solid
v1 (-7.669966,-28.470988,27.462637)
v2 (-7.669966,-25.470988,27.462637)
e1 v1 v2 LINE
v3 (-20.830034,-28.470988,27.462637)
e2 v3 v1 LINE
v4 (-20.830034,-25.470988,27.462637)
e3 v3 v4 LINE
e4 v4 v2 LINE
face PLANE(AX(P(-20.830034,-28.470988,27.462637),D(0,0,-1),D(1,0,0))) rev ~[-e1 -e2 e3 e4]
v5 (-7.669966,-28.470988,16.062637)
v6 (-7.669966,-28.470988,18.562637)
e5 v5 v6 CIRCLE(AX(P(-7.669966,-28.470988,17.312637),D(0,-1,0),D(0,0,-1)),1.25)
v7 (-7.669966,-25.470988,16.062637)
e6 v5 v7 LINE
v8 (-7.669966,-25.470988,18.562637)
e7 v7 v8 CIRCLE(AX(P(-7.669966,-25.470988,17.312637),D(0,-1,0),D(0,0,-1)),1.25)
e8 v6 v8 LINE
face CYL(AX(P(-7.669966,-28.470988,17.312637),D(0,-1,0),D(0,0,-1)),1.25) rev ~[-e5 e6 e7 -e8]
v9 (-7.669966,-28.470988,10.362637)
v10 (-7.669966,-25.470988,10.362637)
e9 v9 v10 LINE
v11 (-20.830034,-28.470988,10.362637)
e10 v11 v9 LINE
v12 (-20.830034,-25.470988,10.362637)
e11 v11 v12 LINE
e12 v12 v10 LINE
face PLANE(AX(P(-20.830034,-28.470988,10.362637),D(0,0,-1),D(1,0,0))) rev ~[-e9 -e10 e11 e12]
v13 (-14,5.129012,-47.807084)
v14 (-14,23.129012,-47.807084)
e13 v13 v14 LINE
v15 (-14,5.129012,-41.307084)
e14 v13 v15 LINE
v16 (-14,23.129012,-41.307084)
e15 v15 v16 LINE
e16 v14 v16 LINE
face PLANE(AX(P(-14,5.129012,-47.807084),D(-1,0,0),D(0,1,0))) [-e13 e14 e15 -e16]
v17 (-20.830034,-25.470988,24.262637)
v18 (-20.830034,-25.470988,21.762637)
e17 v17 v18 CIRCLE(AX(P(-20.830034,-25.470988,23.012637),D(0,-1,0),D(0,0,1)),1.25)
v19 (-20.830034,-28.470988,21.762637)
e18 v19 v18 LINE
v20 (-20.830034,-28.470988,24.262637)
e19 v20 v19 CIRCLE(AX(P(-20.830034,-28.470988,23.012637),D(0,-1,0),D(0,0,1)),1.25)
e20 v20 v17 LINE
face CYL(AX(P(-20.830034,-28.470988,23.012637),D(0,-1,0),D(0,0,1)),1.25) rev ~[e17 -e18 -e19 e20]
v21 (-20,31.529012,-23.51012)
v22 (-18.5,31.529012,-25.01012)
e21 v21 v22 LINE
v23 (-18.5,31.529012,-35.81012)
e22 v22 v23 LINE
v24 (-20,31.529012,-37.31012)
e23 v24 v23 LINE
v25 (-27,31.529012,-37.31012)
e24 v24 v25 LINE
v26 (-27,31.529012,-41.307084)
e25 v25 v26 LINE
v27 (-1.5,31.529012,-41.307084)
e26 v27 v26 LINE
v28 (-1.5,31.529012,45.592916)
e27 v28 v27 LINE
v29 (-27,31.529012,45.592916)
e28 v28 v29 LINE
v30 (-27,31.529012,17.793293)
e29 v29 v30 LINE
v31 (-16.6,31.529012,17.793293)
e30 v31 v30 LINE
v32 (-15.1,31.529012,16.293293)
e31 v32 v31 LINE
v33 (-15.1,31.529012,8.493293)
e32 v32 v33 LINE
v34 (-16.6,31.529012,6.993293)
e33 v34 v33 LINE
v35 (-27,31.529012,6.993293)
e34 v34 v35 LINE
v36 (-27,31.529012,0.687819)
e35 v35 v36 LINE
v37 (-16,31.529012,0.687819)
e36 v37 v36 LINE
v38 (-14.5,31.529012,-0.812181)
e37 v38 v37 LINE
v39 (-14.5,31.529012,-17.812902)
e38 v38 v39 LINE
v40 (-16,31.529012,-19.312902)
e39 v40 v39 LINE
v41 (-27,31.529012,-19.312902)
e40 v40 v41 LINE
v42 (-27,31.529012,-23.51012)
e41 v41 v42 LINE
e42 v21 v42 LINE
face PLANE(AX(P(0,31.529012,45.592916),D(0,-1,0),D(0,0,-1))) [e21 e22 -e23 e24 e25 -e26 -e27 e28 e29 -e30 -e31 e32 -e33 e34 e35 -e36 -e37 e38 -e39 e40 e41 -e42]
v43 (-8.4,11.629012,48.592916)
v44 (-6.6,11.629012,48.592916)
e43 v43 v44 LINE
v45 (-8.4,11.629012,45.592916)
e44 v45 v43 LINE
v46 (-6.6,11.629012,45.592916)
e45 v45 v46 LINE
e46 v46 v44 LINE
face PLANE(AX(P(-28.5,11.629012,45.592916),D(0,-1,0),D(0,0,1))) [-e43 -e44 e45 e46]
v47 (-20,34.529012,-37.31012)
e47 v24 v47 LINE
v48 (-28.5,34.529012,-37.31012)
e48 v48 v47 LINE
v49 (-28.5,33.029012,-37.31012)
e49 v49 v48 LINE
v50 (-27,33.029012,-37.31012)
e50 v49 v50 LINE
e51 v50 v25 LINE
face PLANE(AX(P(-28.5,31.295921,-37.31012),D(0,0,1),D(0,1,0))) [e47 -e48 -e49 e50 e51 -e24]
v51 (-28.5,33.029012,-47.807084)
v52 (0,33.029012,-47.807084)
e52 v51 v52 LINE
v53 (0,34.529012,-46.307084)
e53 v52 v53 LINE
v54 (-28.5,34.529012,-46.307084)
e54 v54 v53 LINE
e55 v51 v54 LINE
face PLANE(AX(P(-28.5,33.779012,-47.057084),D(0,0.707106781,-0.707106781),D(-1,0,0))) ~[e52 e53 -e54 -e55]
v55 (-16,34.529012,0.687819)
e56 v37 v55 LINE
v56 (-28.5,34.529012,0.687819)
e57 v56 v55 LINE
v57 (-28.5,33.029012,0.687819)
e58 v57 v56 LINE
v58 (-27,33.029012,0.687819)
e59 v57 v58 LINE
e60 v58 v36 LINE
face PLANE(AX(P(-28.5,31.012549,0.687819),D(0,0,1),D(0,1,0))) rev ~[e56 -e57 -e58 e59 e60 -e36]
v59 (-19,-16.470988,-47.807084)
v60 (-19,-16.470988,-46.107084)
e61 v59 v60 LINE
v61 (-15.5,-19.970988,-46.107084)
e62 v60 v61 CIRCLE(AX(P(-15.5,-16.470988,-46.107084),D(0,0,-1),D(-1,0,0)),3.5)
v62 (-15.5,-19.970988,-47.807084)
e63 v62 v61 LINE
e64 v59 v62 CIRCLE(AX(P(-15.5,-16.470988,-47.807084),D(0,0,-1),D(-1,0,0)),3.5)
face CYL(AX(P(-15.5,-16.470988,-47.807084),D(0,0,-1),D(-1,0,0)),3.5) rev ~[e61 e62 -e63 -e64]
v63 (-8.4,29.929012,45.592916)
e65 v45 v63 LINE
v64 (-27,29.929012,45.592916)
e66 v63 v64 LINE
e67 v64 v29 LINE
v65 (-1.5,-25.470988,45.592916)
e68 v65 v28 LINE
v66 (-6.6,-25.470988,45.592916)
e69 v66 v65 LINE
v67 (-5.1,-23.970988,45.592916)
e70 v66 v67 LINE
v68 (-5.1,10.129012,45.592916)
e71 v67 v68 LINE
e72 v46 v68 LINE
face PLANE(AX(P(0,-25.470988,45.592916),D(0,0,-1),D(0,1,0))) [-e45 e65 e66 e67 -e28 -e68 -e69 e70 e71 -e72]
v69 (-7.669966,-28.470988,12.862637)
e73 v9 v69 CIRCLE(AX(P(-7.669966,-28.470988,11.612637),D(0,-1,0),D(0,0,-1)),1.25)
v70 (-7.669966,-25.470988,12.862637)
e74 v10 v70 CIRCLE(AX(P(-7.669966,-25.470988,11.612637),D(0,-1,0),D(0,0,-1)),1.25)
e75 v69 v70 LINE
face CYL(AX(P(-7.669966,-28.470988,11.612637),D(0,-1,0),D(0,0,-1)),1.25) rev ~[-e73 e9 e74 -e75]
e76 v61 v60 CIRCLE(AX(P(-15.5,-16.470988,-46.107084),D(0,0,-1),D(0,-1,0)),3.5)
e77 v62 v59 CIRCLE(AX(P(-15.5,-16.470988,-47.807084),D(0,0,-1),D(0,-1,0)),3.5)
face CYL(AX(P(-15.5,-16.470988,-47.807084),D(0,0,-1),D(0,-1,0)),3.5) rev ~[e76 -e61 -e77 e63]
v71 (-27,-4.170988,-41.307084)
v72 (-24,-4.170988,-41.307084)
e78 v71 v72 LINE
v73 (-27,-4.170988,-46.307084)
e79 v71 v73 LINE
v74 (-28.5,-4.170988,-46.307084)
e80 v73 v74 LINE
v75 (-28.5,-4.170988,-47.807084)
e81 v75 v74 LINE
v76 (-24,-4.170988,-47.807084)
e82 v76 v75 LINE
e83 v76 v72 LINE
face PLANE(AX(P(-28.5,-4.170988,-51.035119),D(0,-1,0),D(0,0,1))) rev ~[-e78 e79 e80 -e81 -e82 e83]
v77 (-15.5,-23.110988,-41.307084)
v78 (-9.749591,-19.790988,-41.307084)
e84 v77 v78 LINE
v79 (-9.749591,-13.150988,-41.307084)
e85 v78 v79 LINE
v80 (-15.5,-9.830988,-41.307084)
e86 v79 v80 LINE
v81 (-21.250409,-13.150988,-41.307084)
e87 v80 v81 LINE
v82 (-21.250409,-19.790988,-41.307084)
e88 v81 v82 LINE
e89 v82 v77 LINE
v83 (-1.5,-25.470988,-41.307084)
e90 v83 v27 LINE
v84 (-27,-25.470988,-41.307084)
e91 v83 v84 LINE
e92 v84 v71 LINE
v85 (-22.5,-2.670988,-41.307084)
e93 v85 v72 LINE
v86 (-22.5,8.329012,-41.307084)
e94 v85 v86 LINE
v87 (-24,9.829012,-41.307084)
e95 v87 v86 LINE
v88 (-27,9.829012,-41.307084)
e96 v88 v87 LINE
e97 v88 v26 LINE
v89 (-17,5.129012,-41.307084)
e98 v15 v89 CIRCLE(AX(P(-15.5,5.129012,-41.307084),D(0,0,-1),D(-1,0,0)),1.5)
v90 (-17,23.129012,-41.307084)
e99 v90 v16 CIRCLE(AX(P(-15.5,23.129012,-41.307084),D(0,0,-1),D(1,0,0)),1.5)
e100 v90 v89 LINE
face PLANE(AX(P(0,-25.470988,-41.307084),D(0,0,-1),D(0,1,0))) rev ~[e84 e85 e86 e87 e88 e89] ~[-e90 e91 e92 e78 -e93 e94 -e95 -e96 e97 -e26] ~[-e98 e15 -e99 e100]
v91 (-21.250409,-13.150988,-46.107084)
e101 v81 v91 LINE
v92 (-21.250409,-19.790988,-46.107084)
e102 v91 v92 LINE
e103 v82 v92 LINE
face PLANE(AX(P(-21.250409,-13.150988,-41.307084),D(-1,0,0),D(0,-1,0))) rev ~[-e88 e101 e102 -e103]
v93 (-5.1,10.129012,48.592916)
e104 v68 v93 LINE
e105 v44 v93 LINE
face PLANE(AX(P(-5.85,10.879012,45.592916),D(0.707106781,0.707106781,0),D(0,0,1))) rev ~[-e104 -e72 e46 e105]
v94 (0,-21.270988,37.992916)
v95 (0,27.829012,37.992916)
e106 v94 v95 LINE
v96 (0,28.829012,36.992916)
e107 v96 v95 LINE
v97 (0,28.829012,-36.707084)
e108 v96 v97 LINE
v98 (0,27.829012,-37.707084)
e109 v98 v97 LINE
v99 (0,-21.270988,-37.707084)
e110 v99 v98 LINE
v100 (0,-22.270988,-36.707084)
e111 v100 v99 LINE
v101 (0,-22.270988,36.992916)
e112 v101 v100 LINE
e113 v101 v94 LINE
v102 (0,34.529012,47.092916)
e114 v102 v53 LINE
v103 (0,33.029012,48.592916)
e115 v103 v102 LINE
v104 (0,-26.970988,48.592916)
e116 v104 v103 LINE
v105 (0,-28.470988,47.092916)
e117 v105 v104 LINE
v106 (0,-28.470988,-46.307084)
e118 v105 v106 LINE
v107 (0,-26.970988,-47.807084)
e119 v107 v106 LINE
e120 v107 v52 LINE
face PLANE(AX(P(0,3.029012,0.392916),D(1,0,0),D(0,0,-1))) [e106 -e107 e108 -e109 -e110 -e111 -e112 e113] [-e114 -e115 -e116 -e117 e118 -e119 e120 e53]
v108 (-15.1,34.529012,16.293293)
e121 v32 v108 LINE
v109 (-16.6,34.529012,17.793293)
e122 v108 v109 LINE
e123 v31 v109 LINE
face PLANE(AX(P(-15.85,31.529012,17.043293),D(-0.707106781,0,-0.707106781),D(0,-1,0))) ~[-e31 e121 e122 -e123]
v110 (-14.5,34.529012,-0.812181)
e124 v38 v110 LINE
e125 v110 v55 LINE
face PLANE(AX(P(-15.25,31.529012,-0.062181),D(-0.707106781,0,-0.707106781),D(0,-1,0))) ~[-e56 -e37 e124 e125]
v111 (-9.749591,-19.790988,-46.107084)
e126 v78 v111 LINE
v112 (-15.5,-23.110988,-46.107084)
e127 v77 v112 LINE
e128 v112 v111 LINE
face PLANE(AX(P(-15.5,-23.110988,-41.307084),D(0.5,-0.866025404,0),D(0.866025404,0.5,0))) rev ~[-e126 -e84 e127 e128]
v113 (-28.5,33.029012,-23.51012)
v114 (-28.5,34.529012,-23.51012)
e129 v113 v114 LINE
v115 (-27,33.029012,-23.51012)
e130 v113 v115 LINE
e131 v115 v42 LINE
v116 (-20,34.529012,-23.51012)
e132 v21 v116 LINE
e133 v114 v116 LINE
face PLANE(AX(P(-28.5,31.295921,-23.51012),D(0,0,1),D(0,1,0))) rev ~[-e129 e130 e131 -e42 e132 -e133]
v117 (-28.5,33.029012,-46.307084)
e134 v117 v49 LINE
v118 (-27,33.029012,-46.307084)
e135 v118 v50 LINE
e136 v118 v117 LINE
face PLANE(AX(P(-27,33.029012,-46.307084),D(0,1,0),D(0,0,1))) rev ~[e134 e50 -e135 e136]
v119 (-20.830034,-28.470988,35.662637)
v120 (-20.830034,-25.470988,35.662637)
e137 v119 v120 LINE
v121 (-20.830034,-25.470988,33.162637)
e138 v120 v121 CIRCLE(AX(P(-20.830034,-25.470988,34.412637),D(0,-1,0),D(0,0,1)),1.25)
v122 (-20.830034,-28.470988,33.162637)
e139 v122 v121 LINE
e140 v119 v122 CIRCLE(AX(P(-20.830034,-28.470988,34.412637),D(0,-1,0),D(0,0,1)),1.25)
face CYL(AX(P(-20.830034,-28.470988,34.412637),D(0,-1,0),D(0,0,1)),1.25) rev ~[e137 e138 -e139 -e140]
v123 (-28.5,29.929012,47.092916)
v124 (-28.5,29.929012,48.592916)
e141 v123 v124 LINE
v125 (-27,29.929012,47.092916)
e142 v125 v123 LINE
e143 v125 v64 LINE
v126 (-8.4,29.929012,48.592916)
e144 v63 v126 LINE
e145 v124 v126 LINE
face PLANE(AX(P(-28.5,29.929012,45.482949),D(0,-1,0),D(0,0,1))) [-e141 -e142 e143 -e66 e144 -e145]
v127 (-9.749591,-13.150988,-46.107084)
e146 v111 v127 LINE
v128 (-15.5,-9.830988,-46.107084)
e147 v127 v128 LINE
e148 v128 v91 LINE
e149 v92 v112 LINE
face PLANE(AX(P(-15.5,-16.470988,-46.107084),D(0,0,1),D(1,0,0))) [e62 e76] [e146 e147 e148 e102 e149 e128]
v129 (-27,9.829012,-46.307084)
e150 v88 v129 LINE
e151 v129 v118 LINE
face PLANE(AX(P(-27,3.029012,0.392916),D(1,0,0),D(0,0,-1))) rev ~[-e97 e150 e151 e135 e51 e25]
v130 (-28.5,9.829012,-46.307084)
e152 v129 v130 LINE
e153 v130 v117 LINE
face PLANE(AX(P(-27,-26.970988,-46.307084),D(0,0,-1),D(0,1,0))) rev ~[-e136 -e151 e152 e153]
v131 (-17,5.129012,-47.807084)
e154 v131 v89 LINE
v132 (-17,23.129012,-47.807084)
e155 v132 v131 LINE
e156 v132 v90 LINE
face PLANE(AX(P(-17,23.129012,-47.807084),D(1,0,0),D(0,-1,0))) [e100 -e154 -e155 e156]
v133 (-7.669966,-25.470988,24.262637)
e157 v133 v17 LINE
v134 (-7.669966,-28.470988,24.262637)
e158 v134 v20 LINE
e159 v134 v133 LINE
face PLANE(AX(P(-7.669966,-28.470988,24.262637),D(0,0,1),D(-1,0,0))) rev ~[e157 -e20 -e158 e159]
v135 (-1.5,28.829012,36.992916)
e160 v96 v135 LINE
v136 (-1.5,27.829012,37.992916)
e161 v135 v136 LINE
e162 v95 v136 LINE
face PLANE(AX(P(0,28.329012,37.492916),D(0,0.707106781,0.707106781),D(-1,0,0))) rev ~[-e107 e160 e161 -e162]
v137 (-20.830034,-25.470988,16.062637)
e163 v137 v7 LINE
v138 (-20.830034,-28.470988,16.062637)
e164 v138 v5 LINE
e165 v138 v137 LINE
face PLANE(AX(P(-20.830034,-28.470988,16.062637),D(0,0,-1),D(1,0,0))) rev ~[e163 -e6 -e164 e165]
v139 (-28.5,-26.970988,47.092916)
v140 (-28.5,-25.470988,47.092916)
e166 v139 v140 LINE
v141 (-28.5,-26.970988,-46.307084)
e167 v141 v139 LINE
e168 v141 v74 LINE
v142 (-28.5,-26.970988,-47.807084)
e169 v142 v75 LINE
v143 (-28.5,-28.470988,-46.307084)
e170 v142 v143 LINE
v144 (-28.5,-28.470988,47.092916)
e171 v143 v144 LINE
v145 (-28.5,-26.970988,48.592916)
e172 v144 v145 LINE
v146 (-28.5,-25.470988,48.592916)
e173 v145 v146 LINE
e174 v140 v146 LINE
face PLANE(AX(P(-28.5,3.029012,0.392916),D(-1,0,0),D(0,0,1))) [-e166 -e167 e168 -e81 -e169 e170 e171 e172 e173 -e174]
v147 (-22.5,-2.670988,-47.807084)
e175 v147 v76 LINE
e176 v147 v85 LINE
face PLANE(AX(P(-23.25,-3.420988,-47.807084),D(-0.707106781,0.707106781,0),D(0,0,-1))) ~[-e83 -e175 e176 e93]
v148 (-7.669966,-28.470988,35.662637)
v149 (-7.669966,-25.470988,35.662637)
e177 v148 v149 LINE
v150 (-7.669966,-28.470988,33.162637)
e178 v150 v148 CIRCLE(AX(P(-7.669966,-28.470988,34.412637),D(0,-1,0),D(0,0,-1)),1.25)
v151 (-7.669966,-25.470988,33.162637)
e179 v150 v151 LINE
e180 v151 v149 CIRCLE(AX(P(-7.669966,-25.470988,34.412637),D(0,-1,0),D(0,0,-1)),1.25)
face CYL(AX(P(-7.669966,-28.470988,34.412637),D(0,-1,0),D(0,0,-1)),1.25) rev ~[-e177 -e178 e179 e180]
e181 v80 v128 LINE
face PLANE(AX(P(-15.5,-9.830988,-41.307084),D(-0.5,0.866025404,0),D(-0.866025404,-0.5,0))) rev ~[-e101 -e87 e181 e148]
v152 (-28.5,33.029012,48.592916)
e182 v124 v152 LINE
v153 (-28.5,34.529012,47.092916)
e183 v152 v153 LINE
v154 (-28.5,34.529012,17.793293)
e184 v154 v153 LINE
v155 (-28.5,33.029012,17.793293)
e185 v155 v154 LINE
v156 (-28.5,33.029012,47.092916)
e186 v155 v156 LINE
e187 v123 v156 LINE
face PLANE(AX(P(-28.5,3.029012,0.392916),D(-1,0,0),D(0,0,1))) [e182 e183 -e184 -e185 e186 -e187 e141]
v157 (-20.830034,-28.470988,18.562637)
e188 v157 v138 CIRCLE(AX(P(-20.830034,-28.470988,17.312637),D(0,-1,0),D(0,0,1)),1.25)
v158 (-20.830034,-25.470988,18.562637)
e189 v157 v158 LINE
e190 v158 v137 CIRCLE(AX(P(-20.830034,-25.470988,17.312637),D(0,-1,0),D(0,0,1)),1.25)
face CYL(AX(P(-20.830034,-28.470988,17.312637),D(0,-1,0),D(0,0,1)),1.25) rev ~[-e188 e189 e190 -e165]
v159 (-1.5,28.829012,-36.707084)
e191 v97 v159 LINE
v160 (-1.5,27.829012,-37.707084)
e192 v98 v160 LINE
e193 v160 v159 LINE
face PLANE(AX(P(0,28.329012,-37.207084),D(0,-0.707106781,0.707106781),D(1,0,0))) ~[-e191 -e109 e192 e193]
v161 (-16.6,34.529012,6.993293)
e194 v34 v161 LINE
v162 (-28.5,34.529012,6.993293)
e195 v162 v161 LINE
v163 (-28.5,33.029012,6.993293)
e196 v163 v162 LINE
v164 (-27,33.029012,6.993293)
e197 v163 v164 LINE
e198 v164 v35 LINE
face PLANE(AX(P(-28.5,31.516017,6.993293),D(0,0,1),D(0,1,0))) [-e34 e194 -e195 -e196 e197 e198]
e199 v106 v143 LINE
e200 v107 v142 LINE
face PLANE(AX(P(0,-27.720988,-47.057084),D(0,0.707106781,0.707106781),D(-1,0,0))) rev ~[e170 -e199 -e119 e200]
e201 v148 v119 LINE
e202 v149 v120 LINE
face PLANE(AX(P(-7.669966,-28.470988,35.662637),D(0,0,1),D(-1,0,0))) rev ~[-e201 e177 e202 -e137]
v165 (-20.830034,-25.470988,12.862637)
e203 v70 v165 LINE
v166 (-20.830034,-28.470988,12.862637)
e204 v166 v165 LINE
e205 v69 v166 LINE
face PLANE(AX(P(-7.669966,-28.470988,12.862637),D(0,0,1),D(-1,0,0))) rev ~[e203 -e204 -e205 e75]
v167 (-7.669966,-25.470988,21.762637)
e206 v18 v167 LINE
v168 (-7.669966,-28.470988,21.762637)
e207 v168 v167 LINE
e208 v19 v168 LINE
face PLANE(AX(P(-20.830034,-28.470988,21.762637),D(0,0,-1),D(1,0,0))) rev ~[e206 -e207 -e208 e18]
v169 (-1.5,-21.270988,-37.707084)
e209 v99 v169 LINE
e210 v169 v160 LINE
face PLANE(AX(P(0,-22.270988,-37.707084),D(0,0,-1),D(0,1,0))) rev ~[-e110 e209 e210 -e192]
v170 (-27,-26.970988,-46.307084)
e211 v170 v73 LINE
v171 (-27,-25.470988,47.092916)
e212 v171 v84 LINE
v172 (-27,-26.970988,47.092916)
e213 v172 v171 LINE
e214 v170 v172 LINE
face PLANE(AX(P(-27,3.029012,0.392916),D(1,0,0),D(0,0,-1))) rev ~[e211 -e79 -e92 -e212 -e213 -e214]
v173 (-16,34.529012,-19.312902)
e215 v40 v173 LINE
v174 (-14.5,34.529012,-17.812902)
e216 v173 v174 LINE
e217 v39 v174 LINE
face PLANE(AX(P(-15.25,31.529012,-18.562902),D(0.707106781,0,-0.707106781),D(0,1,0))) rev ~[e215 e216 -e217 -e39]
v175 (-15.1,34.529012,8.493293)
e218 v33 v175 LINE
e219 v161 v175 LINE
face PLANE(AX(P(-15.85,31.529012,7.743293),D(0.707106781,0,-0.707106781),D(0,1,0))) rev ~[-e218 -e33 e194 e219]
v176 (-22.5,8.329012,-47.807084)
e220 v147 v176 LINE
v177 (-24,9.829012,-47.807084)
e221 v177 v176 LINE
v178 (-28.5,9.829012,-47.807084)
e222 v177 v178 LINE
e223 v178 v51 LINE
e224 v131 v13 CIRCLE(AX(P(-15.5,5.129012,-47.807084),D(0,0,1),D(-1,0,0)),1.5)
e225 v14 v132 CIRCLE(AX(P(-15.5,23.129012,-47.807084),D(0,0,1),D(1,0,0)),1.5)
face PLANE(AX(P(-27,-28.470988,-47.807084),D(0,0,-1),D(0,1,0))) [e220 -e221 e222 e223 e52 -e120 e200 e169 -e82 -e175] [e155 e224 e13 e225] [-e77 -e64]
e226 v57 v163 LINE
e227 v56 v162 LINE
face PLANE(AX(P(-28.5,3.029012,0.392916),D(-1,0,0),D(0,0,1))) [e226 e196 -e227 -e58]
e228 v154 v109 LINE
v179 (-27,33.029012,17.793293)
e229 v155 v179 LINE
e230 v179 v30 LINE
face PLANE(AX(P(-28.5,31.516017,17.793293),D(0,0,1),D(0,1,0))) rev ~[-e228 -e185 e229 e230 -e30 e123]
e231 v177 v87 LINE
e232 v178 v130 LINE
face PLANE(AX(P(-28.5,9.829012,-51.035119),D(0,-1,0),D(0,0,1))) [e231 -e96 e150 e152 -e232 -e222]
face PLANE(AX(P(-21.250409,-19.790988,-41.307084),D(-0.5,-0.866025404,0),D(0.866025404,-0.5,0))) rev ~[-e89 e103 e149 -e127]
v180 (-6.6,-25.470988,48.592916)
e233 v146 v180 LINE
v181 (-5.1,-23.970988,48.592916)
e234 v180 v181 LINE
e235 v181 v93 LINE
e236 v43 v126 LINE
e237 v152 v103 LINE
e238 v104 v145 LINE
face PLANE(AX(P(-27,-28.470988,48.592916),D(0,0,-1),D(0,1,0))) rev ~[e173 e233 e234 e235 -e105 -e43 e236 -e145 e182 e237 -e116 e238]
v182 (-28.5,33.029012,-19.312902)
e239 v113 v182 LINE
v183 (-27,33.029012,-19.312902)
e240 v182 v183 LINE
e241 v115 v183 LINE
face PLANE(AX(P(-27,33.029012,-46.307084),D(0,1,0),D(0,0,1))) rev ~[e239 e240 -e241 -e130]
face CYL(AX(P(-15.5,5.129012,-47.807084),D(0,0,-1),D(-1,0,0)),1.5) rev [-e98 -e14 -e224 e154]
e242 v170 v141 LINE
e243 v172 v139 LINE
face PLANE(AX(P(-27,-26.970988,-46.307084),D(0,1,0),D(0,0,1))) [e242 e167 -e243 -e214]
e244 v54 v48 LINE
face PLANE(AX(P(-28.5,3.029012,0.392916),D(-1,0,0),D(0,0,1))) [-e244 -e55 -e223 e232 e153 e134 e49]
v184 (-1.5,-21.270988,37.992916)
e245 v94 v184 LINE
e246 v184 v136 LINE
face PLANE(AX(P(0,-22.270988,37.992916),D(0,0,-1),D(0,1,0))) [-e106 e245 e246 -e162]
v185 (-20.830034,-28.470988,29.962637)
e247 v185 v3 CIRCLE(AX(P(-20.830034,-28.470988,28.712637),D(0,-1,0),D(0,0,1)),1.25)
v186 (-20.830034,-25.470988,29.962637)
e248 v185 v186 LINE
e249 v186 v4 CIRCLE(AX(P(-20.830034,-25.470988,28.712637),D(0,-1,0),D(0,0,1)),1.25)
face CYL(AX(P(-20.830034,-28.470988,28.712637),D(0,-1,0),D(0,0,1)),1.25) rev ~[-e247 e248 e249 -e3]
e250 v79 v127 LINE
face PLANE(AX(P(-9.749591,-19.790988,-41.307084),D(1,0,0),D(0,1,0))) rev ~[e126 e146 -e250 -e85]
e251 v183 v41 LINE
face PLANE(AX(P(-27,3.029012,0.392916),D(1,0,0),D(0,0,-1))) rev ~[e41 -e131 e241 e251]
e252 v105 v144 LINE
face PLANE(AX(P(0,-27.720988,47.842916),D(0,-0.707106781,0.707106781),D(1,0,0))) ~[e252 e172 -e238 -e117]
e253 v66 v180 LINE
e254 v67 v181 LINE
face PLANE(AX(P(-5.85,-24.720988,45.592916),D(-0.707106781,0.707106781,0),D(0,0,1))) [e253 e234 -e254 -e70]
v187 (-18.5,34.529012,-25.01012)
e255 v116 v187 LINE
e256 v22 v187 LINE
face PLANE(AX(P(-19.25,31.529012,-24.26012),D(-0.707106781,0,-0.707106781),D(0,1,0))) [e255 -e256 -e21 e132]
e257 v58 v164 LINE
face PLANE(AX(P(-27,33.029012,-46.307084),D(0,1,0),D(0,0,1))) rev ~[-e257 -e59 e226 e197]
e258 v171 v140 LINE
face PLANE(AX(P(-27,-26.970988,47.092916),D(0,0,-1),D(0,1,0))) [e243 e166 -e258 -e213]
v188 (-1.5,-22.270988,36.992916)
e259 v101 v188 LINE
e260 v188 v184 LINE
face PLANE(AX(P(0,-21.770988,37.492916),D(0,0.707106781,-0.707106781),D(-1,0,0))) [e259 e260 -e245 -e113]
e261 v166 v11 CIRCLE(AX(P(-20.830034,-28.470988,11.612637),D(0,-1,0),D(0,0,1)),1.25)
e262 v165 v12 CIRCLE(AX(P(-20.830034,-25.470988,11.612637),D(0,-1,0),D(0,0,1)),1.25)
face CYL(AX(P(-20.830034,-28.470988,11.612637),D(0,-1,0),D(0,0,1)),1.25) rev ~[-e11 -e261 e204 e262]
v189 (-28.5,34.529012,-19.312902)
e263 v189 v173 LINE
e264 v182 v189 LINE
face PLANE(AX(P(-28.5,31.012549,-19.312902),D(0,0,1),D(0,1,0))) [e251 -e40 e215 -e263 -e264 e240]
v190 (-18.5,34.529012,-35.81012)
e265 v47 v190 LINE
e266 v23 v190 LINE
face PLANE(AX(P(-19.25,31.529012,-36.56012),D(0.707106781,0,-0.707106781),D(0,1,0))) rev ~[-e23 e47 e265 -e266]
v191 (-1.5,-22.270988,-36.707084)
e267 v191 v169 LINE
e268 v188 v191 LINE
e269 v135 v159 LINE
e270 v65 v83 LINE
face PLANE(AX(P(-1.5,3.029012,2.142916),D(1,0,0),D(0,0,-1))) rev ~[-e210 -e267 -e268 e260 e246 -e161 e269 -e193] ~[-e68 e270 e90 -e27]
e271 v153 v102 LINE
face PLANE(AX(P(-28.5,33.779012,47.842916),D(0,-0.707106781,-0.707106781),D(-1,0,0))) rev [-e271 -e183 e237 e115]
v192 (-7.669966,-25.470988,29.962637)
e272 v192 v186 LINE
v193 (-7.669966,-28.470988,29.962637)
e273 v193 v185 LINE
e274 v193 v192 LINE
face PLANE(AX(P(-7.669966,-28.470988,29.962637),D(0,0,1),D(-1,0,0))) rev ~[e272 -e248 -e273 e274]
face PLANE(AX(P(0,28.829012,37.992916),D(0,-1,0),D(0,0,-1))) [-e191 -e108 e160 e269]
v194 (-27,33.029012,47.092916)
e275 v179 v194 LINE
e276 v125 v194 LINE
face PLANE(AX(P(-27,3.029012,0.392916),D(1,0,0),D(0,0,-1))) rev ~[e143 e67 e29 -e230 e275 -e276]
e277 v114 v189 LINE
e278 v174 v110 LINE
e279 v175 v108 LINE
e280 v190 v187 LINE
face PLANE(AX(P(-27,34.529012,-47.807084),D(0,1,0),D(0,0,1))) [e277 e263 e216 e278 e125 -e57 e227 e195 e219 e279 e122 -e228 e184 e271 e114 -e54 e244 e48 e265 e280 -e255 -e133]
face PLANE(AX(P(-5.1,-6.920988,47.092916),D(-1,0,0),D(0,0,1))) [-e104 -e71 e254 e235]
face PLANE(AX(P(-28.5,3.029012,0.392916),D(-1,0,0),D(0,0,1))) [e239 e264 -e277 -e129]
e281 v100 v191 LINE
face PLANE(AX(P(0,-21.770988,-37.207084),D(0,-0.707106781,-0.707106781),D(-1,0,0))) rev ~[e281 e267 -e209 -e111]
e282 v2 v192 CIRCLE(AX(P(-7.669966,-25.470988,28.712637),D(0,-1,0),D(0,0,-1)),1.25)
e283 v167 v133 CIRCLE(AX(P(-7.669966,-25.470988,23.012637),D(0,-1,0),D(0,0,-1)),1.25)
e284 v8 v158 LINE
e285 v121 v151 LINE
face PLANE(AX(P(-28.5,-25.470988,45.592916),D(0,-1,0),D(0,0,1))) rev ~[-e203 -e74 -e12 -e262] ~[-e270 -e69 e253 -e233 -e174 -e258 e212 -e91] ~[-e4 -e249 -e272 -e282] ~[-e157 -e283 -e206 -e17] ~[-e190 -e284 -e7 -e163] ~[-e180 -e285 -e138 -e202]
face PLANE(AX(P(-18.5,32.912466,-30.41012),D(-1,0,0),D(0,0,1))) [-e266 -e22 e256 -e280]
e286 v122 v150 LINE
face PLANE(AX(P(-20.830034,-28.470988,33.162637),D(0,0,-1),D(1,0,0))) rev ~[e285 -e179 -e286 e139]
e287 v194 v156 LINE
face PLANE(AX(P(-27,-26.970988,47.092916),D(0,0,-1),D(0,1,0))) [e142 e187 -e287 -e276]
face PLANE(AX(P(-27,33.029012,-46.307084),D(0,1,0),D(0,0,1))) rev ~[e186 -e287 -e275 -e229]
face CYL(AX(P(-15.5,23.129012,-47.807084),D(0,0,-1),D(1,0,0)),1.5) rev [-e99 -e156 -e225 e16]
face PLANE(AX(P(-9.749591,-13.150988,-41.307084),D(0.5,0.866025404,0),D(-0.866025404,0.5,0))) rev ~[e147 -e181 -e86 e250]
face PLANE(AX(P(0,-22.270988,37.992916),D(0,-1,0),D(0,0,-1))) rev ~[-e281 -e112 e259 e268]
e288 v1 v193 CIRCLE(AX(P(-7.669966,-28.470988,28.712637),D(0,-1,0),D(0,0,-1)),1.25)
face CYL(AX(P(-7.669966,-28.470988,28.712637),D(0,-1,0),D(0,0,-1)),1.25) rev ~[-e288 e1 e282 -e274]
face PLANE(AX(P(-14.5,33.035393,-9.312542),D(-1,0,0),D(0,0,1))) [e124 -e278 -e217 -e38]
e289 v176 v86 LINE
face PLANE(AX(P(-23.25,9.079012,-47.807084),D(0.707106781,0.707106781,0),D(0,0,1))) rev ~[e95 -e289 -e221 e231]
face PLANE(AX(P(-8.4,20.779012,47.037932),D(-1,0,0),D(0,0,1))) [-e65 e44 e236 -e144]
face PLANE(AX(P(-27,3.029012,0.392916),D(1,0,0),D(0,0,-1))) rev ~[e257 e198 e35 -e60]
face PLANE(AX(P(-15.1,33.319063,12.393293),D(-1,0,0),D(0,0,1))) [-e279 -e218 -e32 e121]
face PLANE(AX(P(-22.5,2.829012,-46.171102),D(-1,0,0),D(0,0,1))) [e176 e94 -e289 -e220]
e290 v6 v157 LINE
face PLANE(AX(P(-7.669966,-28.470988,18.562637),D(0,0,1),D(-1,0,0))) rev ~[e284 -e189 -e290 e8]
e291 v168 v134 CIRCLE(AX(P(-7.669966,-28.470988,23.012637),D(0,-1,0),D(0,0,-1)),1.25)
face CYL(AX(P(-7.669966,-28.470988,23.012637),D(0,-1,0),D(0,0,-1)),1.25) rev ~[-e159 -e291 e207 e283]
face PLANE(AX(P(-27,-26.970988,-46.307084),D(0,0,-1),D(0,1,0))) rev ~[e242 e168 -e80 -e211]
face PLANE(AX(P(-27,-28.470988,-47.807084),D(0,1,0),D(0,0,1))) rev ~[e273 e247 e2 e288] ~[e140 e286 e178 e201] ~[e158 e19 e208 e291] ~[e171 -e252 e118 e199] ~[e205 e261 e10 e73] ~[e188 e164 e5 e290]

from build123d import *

# Parameters (mm, degrees)
SKETCH2_W           = 86.9
SKETCH2_H           = 57
SKETCH2_W_2         = 75.7
SKETCH2_H_2         = 51.1
BOSS_EXTRUDE2_DEPTH = 1.5
SKETCH2_3_W         = 96.4
SKETCH2_3_H         = 63
SKETCH2_3_W_2       = 86.9
SKETCH2_3_H_2       = 57
BOSS_EXTRUDE3_DEPTH = 27
CHAMFER1_SIZE       = 1
SKETCH3_W           = 96.4
SKETCH3_H           = 63
SKETCH3_W_2         = 93.4
SKETCH3_H_2         = 60
BOSS_EXTRUDE4_DEPTH = 1.5
CHAMFER2_SIZE       = 1.5
SKETCH6_W           = 9.728035046
SKETCH6_H           = 14
CUT_EXTRUDE1_DEPTH  = 6
SKETCH10_W          = 3
SKETCH10_H          = 37.1
CUT_EXTRUDE2_DEPTH  = 23.4
SKETCH11_W          = 3.109966679
SKETCH11_H          = 18.3
CUT_EXTRUDE6_DEPTH  = 20.1
SKETCH12_W          = 13.8
SKETCH12_H          = 3.233091644
CUT_EXTRUDE7_DEPTH  = 10
SKETCH13_W          = 20.000720153
SKETCH13_H          = 4.04568645
CUT_EXTRUDE8_DEPTH  = 14
SKETCH15_W          = 10.8
SKETCH15_H          = 3.606090768
CUT_EXTRUDE9_DEPTH  = 13.4
CHAMFER3_SIZE       = 1.5
CHAMFER4_SIZE       = 1.5
CHAMFER5_SIZE       = 1.5
CHAMFER6_SIZE       = 1.5
CHAMFER7_SIZE       = 1.5
CUT_EXTRUDE11_DEPTH = 4
CUT_EXTRUDE12_DEPTH = 8
CUT_EXTRUDE13_DEPTH = 10
CUT_EXTRUDE14_DEPTH = 4.8


with BuildPart() as part:
    # Sketch2 → Boss-Extrude2 (new body)
    with BuildSketch(Plane(origin=(0, 0, 0), x_dir=(0, 0, -1), z_dir=(1, 0, 0))):
        with Locations((-2.142915598, 3.029012225)):
            Rectangle(SKETCH2_W, SKETCH2_H)
        with Locations((-0.142915598, 3.279012225)):
            Rectangle(SKETCH2_W_2, SKETCH2_H_2, mode=Mode.SUBTRACT)
    extrude(amount=-BOSS_EXTRUDE2_DEPTH)

    # Sketch2<3> → Boss-Extrude3 (add)
    with BuildSketch(Plane(origin=(0, 0, 0), x_dir=(0, 0, -1), z_dir=(1, 0, 0))):
        with Locations((-0.392915598, 3.029012225)):
            Rectangle(SKETCH2_3_W, SKETCH2_3_H)
        with Locations((-2.142915598, 3.029012225)):
            Rectangle(SKETCH2_3_W_2, SKETCH2_3_H_2, mode=Mode.SUBTRACT)
    extrude(amount=-BOSS_EXTRUDE3_DEPTH)

    # Chamfer1
    chamfer1_edges = [part.edges().sort_by_distance(p)[0] for p in [
        (-0.75, -22.270987775, -37.707084402),
        (-0.75, -22.270987775, 37.992915598),
        (-0.75, 28.829012225, 37.992915598),
        (-0.75, 28.829012225, -37.707084402),
    ]]
    chamfer(chamfer1_edges, length=CHAMFER1_SIZE)

    # Sketch3 → Boss-Extrude4 (add)
    with BuildSketch(Plane.ZY.offset(27)):
        with Locations((0.392915598, 3.029012225)):
            Rectangle(SKETCH3_W, SKETCH3_H)
        with Locations((0.392915598, 3.029012225)):
            Rectangle(SKETCH3_W_2, SKETCH3_H_2, mode=Mode.SUBTRACT)
    extrude(amount=BOSS_EXTRUDE4_DEPTH)

    # Chamfer2
    chamfer2_edges = [part.edges().sort_by_distance(p)[0] for p in [
        (-14.25, -28.470987775, 48.592915598),
        (-14.25, 34.529012225, 48.592915598),
        (-14.25, -28.470987775, -47.807084402),
        (-14.25, 34.529012225, -47.807084402),
    ]]
    chamfer(chamfer2_edges, length=CHAMFER2_SIZE)

    # Sketch6 → Cut-Extrude1 (cut)
    with BuildSketch(Plane.ZY.offset(28.5)):
        with Locations((-46.171101925, 2.829012225)):
            Rectangle(SKETCH6_W, SKETCH6_H)
    extrude(amount=-CUT_EXTRUDE1_DEPTH, mode=Mode.SUBTRACT)

    # Sketch10 → Cut-Extrude2 (cut)
    with BuildSketch(Plane.ZY.offset(28.5)):
        with Locations((47.092915598, -6.920987775)):
            Rectangle(SKETCH10_W, SKETCH10_H)
    extrude(amount=-CUT_EXTRUDE2_DEPTH, mode=Mode.SUBTRACT)

    # Sketch11 → Cut-Extrude6 (cut)
    with BuildSketch(Plane.ZY.offset(28.5)):
        with Locations((47.037932259, 20.779012225)):
            Rectangle(SKETCH11_W, SKETCH11_H)
    extrude(amount=-CUT_EXTRUDE6_DEPTH, mode=Mode.SUBTRACT)

    # Sketch12 → Cut-Extrude7 (cut)
    with BuildSketch(Plane.ZY.offset(28.5)):
        with Locations((-30.410119612, 32.912466403)):
            Rectangle(SKETCH12_W, SKETCH12_H)
    extrude(amount=-CUT_EXTRUDE7_DEPTH, mode=Mode.SUBTRACT)

    # Sketch13 → Cut-Extrude8 (cut)
    with BuildSketch(Plane.ZY.offset(28.5)):
        with Locations((-9.312541512, 33.035392559)):
            Rectangle(SKETCH13_W, SKETCH13_H)
    extrude(amount=-CUT_EXTRUDE8_DEPTH, mode=Mode.SUBTRACT)

    # Sketch15 → Cut-Extrude9 (cut)
    with BuildSketch(Plane.ZY.offset(28.5)):
        with Locations((12.393292701, 33.319062827)):
            Rectangle(SKETCH15_W, SKETCH15_H)
    extrude(amount=-CUT_EXTRUDE9_DEPTH, mode=Mode.SUBTRACT)

    # Chamfer3
    chamfer3_edges = [part.edges().sort_by_distance(p)[0] for p in [
        (-18.5, 33.029012225, -37.310119612),
        (-18.5, 33.029012225, -23.510119612),
    ]]
    chamfer(chamfer3_edges, length=CHAMFER3_SIZE)

    # Chamfer4
    chamfer4_edges = [part.edges().sort_by_distance(p)[0] for p in [
        (-14.5, 33.029012225, -19.312901588),
        (-14.5, 33.029012225, 0.687818565),
    ]]
    chamfer(chamfer4_edges, length=CHAMFER4_SIZE)

    # Chamfer5
    chamfer5_edges = [part.edges().sort_by_distance(p)[0] for p in [
        (-15.1, 33.029012225, 6.993292701),
        (-15.1, 33.029012225, 17.793292701),
    ]]
    chamfer(chamfer5_edges, length=CHAMFER5_SIZE)

    # Chamfer6
    chamfer6_edges = [part.edges().sort_by_distance(p)[0] for p in [
        (-22.5, 9.829012225, -44.557084402),
        (-22.5, -4.170987775, -44.557084402),
    ]]
    chamfer(chamfer6_edges, length=CHAMFER6_SIZE)

    # Chamfer7
    chamfer7_edges = [part.edges().sort_by_distance(p)[0] for p in [
        (-5.1, -25.470987775, 47.092915598),
        (-5.1, 11.629012225, 47.092915598),
    ]]
    chamfer(chamfer7_edges, length=CHAMFER7_SIZE)

    # Sketch17 → Cut-Extrude11 (cut)
    with BuildSketch(Plane.XZ.offset(28.470987775)):
        with BuildLine():
            Line((-7.669966397, 35.662637039), (-20.830033603, 35.662637039))
            ThreePointArc((-20.830033603, 35.662637039), (-22.080033603, 34.412637039), (-20.830033603, 33.162637039))
            Line((-20.830033603, 33.162637039), (-7.669966397, 33.162637039))
            ThreePointArc((-7.669966397, 33.162637039), (-6.419966397, 34.412637039), (-7.669966397, 35.662637039))
        make_face()
        with BuildLine():
            Line((-7.669966397, 29.962637039), (-20.830033603, 29.962637039))
            ThreePointArc((-20.830033603, 29.962637039), (-22.080033603, 28.712637039), (-20.830033603, 27.462637039))
            Line((-20.830033603, 27.462637039), (-7.669966397, 27.462637039))
            ThreePointArc((-7.669966397, 27.462637039), (-6.419966397, 28.712637039), (-7.669966397, 29.962637039))
        make_face()
        with BuildLine():
            Line((-7.669966397, 24.262637039), (-20.830033603, 24.262637039))
            ThreePointArc((-20.830033603, 24.262637039), (-22.080033603, 23.012637039), (-20.830033603, 21.762637039))
            Line((-20.830033603, 21.762637039), (-7.669966397, 21.762637039))
            ThreePointArc((-7.669966397, 21.762637039), (-6.419966397, 23.012637039), (-7.669966397, 24.262637039))
        make_face()
        with BuildLine():
            Line((-7.669966397, 18.562637039), (-20.830033603, 18.562637039))
            ThreePointArc((-20.830033603, 18.562637039), (-22.080033603, 17.312637039), (-20.830033603, 16.062637039))
            Line((-20.830033603, 16.062637039), (-7.669966397, 16.062637039))
            ThreePointArc((-7.669966397, 16.062637039), (-6.419966397, 17.312637039), (-7.669966397, 18.562637039))
        make_face()
        with BuildLine():
            Line((-7.669966397, 12.862637039), (-20.830033603, 12.862637039))
            ThreePointArc((-20.830033603, 12.862637039), (-22.080033603, 11.612637039), (-20.830033603, 10.362637039))
            Line((-20.830033603, 10.362637039), (-7.669966397, 10.362637039))
            ThreePointArc((-7.669966397, 10.362637039), (-6.419966397, 11.612637039), (-7.669966397, 12.862637039))
        make_face()
    extrude(amount=-CUT_EXTRUDE11_DEPTH, mode=Mode.SUBTRACT)

    # Sketch18 → Cut-Extrude12 (cut)
    with BuildSketch(Plane(origin=(0, 0, -47.807084402), x_dir=(-1, 0, 0), z_dir=(0, 0, -1))):
        with BuildLine():
            Line((17, 23.129012225), (17, 5.129012225))
            ThreePointArc((17, 5.129012225), (15.5, 3.629012225), (14, 5.129012225))
            Line((14, 5.129012225), (14, 23.129012225))
            ThreePointArc((14, 23.129012225), (15.5, 24.629012225), (17, 23.129012225))
        make_face()
    extrude(amount=-CUT_EXTRUDE12_DEPTH, mode=Mode.SUBTRACT)

    # Sketch19 → Cut-Extrude13 (cut)
    with BuildSketch(Plane(origin=(0, 0, -47.807084402), x_dir=(-1, 0, 0), z_dir=(0, 0, -1))):
        with BuildLine():
            ThreePointArc((19, -16.470987775), (13.025126266, -13.996114041), (15.5, -19.970987775))
            ThreePointArc((15.5, -19.970987775), (17.974873734, -18.945861509), (19, -16.470987775))
        make_face()
    extrude(amount=-CUT_EXTRUDE13_DEPTH, mode=Mode.SUBTRACT)

    # Sketch21 → Cut-Extrude14 (cut)
    with BuildSketch(Plane.XY.offset(-41.307084402)):
        Polygon((-15.5, -23.110987775), (-9.749591319, -19.790987775), (-9.749591319, -13.150987775), (-15.5, -9.830987775), (-21.250408681, -13.150987775), (-21.250408681, -19.790987775), align=None)
    extrude(amount=-CUT_EXTRUDE14_DEPTH, mode=Mode.SUBTRACT)


solid = part.part
